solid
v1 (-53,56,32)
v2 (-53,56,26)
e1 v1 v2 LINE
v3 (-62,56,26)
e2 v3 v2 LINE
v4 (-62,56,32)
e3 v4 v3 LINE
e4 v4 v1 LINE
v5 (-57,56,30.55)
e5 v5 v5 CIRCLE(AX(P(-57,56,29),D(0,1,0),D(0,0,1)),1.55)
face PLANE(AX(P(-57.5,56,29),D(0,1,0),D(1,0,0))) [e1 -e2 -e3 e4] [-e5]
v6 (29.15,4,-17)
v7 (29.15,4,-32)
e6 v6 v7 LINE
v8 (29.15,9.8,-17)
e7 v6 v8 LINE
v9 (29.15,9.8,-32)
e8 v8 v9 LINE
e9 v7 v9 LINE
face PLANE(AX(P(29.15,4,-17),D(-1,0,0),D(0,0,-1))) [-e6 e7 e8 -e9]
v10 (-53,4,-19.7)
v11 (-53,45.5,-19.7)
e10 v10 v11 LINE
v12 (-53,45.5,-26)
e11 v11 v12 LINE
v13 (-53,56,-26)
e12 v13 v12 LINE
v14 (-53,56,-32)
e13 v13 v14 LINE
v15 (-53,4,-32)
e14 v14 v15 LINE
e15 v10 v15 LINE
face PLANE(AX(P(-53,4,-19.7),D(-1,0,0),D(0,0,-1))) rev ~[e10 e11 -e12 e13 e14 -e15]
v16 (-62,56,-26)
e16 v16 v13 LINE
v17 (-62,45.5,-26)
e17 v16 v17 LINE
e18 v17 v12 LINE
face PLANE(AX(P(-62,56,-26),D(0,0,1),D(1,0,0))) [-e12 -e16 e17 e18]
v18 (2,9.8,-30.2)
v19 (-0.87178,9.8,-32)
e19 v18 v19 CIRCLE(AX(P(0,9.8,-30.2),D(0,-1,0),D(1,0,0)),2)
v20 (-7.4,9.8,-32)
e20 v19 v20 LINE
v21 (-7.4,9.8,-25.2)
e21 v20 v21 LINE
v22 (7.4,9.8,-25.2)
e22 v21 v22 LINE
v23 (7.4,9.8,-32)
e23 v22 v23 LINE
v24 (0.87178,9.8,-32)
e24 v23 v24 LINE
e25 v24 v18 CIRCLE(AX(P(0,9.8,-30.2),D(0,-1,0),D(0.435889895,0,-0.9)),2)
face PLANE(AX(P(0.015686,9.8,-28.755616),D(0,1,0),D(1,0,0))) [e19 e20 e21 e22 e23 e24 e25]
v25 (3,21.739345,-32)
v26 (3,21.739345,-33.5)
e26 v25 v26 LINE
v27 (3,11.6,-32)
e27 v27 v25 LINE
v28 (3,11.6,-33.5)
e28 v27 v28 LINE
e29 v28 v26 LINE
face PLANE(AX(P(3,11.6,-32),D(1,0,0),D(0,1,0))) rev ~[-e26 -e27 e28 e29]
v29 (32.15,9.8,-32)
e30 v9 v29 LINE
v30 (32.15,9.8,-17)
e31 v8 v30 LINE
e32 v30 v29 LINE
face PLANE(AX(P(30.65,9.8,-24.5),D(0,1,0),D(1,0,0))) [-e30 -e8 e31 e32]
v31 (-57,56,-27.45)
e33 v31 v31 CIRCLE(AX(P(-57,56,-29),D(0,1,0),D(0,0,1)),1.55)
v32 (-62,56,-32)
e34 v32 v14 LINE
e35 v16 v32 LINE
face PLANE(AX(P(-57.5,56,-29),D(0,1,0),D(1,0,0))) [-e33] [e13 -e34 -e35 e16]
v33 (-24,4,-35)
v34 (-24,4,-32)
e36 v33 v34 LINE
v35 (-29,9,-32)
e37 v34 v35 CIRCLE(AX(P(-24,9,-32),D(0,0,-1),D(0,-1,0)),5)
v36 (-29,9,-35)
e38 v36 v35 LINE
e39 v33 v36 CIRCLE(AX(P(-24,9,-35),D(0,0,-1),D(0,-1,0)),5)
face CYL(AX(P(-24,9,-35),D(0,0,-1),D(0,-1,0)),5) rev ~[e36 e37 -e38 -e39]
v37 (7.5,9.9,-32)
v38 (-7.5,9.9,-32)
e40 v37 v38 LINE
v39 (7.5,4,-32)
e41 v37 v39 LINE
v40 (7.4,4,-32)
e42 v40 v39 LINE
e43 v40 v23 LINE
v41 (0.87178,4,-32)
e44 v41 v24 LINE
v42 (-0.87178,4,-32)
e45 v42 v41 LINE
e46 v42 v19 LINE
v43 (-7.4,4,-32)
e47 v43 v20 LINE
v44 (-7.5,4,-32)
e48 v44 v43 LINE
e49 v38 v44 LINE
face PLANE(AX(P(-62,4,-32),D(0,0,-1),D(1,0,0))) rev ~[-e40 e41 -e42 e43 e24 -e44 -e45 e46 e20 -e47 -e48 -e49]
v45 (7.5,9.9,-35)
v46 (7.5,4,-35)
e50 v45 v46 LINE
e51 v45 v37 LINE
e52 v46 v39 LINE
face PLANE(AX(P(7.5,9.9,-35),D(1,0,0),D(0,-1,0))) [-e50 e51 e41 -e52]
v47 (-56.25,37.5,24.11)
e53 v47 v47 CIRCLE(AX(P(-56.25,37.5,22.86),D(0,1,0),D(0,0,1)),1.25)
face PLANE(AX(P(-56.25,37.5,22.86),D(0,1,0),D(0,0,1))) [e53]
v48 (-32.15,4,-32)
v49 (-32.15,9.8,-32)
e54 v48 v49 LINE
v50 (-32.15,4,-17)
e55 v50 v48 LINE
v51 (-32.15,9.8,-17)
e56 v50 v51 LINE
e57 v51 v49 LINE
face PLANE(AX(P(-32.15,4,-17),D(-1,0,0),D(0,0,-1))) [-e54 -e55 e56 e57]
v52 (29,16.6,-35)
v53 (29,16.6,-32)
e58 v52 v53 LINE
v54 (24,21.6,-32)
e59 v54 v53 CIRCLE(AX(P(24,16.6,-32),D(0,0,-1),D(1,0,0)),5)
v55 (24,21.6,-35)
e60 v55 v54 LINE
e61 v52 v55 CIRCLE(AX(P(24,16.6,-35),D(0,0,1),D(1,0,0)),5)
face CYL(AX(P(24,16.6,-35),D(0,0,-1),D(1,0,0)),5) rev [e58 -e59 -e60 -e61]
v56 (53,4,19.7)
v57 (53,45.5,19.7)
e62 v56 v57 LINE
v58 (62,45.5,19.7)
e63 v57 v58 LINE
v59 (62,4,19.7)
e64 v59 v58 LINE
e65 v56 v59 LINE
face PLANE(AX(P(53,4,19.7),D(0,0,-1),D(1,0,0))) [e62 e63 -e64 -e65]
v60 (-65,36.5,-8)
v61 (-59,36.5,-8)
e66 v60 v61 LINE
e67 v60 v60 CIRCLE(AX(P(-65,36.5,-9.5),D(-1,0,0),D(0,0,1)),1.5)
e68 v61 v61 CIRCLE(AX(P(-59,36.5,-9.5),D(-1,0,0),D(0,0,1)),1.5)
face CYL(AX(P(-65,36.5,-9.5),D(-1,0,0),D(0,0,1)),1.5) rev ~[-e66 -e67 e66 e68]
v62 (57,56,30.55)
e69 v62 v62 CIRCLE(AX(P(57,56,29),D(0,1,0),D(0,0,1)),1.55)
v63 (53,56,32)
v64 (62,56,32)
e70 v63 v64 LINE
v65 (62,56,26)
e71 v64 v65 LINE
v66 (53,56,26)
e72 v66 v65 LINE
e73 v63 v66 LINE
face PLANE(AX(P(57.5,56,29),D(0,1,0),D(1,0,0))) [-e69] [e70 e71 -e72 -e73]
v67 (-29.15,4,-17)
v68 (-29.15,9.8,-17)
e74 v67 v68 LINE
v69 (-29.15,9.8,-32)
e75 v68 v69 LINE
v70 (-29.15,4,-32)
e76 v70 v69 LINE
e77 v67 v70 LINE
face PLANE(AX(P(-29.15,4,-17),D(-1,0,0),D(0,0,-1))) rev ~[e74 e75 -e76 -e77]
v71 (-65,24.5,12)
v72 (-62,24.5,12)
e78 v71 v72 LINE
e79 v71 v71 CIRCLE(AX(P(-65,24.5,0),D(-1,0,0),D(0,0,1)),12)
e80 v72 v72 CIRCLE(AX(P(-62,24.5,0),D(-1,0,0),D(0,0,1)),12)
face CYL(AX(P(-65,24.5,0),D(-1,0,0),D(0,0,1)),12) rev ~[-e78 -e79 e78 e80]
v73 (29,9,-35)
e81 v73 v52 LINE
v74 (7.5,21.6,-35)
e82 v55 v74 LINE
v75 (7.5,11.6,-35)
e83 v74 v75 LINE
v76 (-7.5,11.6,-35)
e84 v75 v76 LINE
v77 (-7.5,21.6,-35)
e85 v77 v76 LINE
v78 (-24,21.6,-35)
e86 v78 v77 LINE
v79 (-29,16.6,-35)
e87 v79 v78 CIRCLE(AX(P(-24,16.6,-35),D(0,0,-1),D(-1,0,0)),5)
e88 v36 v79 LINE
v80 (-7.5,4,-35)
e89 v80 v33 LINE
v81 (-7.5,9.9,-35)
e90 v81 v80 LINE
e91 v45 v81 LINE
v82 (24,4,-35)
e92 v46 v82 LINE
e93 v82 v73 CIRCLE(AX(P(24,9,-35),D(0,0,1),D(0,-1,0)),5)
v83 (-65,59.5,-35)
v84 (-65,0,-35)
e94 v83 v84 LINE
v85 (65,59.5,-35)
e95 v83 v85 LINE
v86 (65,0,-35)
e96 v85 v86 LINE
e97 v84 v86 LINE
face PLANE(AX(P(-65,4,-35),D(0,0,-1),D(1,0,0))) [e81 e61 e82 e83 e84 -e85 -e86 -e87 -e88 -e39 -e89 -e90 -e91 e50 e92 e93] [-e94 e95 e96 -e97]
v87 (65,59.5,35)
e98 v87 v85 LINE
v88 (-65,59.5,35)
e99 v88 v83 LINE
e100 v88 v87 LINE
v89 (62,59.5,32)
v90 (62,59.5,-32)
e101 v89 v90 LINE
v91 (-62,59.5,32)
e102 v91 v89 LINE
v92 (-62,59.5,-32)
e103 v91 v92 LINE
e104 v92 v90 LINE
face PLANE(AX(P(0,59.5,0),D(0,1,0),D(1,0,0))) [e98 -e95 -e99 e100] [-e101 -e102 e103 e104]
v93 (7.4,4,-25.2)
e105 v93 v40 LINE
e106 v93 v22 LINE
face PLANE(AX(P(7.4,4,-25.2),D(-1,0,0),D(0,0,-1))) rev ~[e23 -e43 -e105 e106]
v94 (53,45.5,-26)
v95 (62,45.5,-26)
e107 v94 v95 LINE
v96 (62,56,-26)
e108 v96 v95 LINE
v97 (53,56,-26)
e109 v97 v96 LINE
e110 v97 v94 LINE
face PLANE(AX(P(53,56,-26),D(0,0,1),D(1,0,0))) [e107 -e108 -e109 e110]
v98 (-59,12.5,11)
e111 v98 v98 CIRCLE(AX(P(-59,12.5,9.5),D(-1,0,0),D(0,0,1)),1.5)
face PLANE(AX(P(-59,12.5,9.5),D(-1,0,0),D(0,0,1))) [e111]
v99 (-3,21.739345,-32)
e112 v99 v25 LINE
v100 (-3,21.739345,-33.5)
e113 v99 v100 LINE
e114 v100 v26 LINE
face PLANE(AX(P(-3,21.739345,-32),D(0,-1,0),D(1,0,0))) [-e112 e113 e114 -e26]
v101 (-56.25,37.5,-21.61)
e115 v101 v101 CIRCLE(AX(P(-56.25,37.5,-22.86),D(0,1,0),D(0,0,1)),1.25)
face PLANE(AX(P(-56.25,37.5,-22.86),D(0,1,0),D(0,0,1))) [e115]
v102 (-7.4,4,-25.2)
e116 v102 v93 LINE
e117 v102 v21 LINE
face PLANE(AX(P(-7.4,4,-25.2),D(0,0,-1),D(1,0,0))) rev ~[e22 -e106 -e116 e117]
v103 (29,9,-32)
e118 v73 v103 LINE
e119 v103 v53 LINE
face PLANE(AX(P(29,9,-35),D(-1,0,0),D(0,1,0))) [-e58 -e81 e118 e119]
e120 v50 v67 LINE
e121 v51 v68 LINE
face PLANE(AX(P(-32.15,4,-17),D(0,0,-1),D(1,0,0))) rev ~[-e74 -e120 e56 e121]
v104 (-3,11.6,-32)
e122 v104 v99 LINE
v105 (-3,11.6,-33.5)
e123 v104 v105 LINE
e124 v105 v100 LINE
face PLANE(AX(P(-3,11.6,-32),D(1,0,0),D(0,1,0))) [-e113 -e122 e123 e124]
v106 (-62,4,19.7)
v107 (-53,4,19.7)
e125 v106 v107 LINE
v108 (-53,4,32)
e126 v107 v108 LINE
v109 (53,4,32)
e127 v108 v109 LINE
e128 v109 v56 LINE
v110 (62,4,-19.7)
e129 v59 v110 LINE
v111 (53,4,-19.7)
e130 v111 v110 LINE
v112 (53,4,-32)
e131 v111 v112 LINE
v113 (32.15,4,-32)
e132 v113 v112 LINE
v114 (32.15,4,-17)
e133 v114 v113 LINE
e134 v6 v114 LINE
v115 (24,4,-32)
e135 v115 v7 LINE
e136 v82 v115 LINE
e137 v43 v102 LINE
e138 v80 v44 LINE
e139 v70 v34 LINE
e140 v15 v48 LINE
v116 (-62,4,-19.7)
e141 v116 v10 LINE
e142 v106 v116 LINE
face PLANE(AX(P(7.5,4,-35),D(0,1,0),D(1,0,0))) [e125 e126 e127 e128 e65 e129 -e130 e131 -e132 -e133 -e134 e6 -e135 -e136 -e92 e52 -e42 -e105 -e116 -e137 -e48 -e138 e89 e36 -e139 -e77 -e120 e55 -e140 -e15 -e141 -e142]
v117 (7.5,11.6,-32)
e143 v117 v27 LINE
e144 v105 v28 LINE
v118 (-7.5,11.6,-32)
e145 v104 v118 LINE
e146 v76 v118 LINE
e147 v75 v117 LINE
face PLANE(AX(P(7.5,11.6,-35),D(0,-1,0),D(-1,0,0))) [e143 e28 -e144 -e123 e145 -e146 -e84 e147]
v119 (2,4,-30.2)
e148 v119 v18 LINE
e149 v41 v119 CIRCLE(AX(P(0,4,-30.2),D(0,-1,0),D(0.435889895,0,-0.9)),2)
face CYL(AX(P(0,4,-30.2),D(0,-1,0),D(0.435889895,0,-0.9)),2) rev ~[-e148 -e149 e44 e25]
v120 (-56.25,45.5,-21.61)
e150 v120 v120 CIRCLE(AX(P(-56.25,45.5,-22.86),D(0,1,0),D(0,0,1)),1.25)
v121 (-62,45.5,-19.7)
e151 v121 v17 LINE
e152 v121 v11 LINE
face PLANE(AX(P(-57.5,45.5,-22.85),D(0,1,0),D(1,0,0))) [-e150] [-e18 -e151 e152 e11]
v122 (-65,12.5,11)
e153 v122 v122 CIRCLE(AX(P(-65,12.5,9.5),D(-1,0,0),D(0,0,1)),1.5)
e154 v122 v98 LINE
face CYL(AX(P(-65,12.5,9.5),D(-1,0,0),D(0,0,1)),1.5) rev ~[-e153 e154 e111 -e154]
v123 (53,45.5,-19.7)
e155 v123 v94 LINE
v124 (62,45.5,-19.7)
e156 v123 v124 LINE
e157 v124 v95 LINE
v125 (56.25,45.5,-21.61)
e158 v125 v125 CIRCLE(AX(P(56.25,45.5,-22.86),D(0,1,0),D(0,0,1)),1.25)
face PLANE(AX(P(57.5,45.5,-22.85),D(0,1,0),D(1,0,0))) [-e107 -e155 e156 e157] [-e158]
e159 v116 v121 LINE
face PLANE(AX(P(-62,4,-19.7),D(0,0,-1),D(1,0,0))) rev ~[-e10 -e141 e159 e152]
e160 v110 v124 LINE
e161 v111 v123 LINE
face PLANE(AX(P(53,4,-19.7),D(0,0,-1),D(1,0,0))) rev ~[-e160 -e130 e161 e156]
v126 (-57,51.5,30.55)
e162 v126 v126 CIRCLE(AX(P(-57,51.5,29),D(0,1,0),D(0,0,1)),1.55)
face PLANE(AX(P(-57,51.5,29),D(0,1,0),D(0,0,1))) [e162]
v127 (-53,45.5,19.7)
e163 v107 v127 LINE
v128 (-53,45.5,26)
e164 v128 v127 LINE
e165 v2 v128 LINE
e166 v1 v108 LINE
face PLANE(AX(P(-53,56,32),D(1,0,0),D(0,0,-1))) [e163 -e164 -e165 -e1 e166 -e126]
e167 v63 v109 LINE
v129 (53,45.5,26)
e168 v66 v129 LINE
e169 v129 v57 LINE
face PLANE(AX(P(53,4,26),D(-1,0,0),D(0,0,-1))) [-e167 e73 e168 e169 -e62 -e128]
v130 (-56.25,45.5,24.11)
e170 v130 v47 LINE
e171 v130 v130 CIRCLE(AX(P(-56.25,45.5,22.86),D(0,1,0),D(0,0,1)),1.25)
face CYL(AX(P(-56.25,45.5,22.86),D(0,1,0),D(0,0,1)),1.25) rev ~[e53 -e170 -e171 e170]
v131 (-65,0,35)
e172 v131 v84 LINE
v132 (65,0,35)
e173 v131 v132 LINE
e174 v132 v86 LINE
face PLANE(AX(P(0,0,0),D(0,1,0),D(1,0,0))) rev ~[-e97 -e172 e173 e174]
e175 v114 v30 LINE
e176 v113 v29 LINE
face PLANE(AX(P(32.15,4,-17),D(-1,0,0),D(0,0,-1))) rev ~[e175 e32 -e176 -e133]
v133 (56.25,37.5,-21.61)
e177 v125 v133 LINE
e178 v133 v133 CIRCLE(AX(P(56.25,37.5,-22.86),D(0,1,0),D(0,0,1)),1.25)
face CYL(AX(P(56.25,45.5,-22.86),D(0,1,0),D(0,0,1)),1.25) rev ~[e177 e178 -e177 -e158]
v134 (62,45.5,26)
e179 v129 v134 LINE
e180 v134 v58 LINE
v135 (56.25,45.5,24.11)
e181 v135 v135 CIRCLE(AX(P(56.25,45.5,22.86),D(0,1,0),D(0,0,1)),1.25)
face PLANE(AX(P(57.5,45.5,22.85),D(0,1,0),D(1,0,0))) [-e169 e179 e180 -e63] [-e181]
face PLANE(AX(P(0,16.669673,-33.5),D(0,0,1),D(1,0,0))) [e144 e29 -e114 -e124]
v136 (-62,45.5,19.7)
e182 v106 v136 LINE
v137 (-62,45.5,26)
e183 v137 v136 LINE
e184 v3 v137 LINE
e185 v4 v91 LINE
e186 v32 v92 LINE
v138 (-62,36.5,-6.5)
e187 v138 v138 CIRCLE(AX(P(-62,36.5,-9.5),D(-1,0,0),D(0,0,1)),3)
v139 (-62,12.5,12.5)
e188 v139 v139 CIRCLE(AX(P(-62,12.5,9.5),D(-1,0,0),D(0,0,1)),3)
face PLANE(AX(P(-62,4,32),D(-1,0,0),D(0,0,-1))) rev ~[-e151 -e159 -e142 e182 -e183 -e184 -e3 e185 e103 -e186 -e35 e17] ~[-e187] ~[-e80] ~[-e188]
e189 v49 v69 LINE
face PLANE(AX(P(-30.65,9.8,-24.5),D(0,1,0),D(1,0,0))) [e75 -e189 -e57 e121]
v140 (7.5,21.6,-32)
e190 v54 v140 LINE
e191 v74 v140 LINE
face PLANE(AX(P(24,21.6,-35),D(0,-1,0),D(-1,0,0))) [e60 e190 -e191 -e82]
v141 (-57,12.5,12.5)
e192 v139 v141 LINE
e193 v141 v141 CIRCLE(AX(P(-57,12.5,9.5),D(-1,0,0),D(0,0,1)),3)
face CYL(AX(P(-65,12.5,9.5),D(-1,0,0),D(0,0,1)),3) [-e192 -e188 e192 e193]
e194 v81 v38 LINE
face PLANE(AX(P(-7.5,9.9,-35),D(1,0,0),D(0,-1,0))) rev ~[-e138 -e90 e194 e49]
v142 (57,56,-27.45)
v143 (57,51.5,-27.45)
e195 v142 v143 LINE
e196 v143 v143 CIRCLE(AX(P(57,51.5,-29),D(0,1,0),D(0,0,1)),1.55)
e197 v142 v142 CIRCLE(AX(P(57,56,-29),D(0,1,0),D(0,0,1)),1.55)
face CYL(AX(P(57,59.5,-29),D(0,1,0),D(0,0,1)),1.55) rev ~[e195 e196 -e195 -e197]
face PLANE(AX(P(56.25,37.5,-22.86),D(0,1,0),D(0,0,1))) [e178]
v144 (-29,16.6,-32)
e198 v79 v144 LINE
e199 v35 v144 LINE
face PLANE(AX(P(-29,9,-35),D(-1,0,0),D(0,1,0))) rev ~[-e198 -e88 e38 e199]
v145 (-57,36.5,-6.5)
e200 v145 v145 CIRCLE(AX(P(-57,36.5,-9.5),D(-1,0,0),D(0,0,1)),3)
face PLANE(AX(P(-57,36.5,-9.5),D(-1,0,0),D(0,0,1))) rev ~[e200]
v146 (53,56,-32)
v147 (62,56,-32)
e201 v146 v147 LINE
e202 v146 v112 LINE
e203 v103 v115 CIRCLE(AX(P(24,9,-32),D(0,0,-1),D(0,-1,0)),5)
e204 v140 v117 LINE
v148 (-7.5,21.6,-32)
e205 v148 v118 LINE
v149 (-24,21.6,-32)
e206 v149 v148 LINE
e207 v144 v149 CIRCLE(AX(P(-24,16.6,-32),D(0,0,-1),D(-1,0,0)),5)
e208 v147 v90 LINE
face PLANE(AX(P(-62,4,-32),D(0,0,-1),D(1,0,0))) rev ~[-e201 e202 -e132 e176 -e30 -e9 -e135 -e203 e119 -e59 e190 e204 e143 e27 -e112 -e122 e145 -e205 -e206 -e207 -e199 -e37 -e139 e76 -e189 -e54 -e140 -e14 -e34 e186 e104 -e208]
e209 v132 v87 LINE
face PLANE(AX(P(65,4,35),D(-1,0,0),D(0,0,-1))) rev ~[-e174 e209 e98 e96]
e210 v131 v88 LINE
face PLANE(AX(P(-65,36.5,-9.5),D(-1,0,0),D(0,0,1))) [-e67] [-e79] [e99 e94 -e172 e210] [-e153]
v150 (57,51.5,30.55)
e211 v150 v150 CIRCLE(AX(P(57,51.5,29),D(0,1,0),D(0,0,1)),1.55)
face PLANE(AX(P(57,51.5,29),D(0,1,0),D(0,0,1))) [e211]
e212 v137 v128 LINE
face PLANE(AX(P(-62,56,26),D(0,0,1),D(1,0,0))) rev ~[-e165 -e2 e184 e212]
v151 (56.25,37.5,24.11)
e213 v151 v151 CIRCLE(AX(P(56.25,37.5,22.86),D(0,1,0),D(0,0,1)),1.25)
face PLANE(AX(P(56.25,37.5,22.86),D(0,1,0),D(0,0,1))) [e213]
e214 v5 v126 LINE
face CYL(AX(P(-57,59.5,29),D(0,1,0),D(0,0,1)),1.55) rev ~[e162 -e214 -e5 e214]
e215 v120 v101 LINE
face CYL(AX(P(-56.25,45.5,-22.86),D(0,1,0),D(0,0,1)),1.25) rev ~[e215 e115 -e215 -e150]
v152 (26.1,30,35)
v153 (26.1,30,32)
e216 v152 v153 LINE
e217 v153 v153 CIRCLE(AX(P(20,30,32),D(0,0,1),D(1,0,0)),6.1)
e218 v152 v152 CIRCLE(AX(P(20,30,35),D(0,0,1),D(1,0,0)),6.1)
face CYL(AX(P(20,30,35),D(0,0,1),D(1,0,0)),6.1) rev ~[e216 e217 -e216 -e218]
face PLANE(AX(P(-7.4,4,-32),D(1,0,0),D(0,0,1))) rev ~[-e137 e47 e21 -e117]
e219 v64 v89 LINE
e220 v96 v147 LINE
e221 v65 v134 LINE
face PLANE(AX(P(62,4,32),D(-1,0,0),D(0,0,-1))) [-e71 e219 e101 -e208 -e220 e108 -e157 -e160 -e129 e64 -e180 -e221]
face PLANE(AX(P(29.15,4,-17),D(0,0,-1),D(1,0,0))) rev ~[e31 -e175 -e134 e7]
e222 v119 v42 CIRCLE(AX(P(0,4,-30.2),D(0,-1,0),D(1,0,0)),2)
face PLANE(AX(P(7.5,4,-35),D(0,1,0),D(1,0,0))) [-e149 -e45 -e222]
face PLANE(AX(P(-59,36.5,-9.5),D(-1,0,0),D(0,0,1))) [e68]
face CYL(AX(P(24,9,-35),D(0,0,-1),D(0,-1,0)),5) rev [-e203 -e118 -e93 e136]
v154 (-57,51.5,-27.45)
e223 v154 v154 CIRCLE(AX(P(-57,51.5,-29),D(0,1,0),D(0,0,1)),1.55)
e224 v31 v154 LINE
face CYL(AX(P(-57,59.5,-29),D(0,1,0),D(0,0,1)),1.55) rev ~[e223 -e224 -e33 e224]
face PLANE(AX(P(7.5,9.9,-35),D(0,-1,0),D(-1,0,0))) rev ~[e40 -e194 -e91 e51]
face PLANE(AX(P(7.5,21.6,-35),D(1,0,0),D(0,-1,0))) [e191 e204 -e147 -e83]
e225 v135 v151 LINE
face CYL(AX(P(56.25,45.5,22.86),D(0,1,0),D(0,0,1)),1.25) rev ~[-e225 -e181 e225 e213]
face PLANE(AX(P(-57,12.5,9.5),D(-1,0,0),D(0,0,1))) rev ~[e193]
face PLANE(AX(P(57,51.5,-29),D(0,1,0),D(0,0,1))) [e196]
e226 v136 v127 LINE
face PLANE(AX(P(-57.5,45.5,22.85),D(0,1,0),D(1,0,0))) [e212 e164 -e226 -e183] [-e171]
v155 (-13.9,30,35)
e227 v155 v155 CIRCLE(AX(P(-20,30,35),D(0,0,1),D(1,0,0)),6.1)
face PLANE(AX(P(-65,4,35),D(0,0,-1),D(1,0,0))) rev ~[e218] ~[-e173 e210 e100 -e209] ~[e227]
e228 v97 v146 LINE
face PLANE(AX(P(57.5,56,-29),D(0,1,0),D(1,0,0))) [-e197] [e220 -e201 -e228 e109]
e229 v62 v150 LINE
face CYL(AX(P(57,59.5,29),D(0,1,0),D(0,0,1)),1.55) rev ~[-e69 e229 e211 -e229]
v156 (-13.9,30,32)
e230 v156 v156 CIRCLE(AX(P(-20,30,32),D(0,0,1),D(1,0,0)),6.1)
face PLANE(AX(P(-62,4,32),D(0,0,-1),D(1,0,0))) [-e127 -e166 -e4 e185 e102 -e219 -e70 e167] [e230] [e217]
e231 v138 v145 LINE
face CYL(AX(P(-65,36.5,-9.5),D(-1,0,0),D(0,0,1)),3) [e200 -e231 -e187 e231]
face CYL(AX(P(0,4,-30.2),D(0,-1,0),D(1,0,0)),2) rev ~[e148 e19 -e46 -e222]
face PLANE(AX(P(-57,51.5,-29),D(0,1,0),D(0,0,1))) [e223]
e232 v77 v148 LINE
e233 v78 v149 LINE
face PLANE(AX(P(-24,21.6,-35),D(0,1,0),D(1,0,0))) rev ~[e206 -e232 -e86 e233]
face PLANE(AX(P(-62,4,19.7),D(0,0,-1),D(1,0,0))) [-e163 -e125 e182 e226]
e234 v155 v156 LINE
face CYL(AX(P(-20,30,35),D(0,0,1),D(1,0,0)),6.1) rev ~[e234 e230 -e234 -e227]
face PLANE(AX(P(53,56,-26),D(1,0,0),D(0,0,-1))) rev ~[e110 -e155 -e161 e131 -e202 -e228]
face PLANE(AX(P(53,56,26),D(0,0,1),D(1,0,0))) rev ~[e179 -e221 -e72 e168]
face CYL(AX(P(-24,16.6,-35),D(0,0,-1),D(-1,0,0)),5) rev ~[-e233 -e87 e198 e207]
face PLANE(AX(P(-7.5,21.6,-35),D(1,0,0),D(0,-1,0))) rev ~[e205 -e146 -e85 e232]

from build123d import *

# Parameters (mm, degrees)
SKETCH1_W       = 130
SKETCH1_H       = 70
EXTRUDE1_DEPTH  = 4
SKETCH2_W       = 130
SKETCH2_H       = 70
SKETCH2_W_2     = 124
SKETCH2_H_2     = 64
EXTRUDE2_DEPTH  = 55.5
SKETCH3_W       = 15
SKETCH3_H       = 1.7
EXTRUDE3_DEPTH  = 4.8
SKETCH4_W       = 3
SKETCH4_H       = 15
EXTRUDE5_DEPTH  = 5.8
SKETCH5_W       = 6
SKETCH5_H       = 10.139345217
EXTRUDE6_DEPTH  = 1.5
SKETCH22_R      = 3
EXTRUDE26_DEPTH = 8
SKETCH10_R      = 12
SKETCH10_R_2    = 1.5
EXTRUDE11_DEPTH = 6
EXTRUDE13_START = -3.5
SKETCH12_W      = 9
SKETCH12_H      = 6
EXTRUDE13_DEPTH = 52
EXTRUDE14_START = -3.5
SKETCH13_W      = 9
SKETCH13_H      = 6
EXTRUDE14_DEPTH = 52
SKETCH14_R      = 1.55
EXTRUDE15_DEPTH = 8
SKETCH20_R      = 1.55
EXTRUDE22_DEPTH = 8
SKETCH23_W      = 9
SKETCH23_H      = 6.3
EXTRUDE27_DEPTH = 41.5
SKETCH24_R      = 6.1
EXTRUDE28_DEPTH = 5
SKETCH25_R      = 1.25
EXTRUDE29_DEPTH = 8


with BuildPart() as part:
    # Sketch1 → Extrude1 (new body)
    with BuildSketch(Plane(origin=(0, 0, 0), x_dir=(1, 0, 0), z_dir=(0, 1, 0))):
        Rectangle(SKETCH1_W, SKETCH1_H)
    extrude(amount=EXTRUDE1_DEPTH)

    # Sketch2 → Extrude2 (add)
    with BuildSketch(Plane(origin=(0, 4, 0), x_dir=(1, 0, 0), z_dir=(0, 1, 0))):
        Rectangle(SKETCH2_W, SKETCH2_H)
        Rectangle(SKETCH2_W_2, SKETCH2_H_2, mode=Mode.SUBTRACT)
    extrude(amount=EXTRUDE2_DEPTH)

    # Sketch3 → Extrude3 (cut)
    with BuildSketch(Plane(origin=(0, 0, -35), x_dir=(-1, 0, 0), z_dir=(0, 0, -1))):
        with BuildLine():
            Line((-24, 21.6), (-7.5, 21.6))
            Line((-7.5, 21.6), (-7.5, 4))
            Line((-7.5, 4), (-24, 4))
            ThreePointArc((-24, 4), (-27.535533906, 5.464466094), (-29, 9))
            Line((-29, 9), (-29, 16.6))
            ThreePointArc((-29, 16.6), (-27.535533906, 20.135533906), (-24, 21.6))
        make_face()
        with BuildLine():
            Line((7.5, 4), (24, 4))
            ThreePointArc((24, 4), (27.535533906, 5.464466094), (29, 9))
            Line((29, 9), (29, 16.6))
            ThreePointArc((29, 16.6), (27.535533906, 20.135533906), (24, 21.6))
            Line((24, 21.6), (7.5, 21.6))
            Line((7.5, 21.6), (7.5, 4))
        make_face()
        with Locations((0, 10.75)):
            Rectangle(SKETCH3_W, SKETCH3_H)
    extrude(amount=-EXTRUDE3_DEPTH, mode=Mode.SUBTRACT)

    # Sketch4 → Extrude5 (add)
    with BuildSketch(Plane(origin=(0, 4, 0), x_dir=(1, 0, 0), z_dir=(0, 1, 0))):
        with BuildLine():
            Line((-0.871779789, 32), (-7.4, 32))
            Line((-7.4, 32), (-7.4, 25.2))
            Line((-7.4, 25.2), (7.4, 25.2))
            Line((7.4, 25.2), (7.4, 32))
            Line((7.4, 32), (0.871779789, 32))
            ThreePointArc((0.871779789, 32), (1.694632641, 31.262177109), (2, 30.2))
            ThreePointArc((2, 30.2), (-1.062177109, 28.505367359), (-0.871779789, 32))
        make_face()
        with Locations((-30.65, 24.5)):
            Rectangle(SKETCH4_W, SKETCH4_H)
        with Locations((30.65, 24.5)):
            Rectangle(SKETCH4_W, SKETCH4_H)
    extrude(amount=EXTRUDE5_DEPTH)

    # Sketch5 → Extrude6 (cut)
    with BuildSketch(Plane.XY.offset(-32)):
        with Locations((0, 16.669672609)):
            Rectangle(SKETCH5_W, SKETCH5_H)
    extrude(amount=-EXTRUDE6_DEPTH, mode=Mode.SUBTRACT)

    # Sketch22 → Extrude26 (add)
    with BuildSketch(Plane.ZY.offset(65)):
        with Locations((-9.5, 36.5)):
            Circle(SKETCH22_R)
        with Locations((9.5, 12.5)):
            Circle(SKETCH22_R)
    extrude(amount=-EXTRUDE26_DEPTH)

    # Sketch10 → Extrude11 (cut)
    with BuildSketch(Plane.ZY.offset(65)):
        with Locations((0, 24.5)):
            Circle(SKETCH10_R)
        with Locations((-9.5, 36.5)):
            Circle(SKETCH10_R_2)
        with Locations((9.5, 12.5)):
            Circle(SKETCH10_R_2)
    extrude(amount=-EXTRUDE11_DEPTH, mode=Mode.SUBTRACT)

    # Sketch12 → Extrude13 (add)
    with BuildSketch(Plane(origin=(0, 59.5, 0), x_dir=(1, 0, 0), z_dir=(0, 1, 0)).offset(EXTRUDE13_START)):
        with Locations((-57.5, -29)):
            Rectangle(SKETCH12_W, SKETCH12_H)
        with Locations((57.5, -29)):
            Rectangle(SKETCH12_W, SKETCH12_H)
    extrude(amount=-EXTRUDE13_DEPTH)

    # Sketch13 → Extrude14 (add)
    with BuildSketch(Plane(origin=(0, 59.5, 0), x_dir=(1, 0, 0), z_dir=(0, 1, 0)).offset(EXTRUDE14_START)):
        with Locations((-57.5, 29)):
            Rectangle(SKETCH13_W, SKETCH13_H)
        with Locations((57.5, 29)):
            Rectangle(SKETCH13_W, SKETCH13_H)
    extrude(amount=-EXTRUDE14_DEPTH)

    # Sketch14 → Extrude15 (cut)
    with BuildSketch(Plane(origin=(0, 59.5, 0), x_dir=(1, 0, 0), z_dir=(0, 1, 0))):
        with Locations(Location((-57, 29, 0), (0, 0, 270))):
            Circle(SKETCH14_R)
        with Locations(Location((57, 29, 0), (0, 0, 270))):
            Circle(SKETCH14_R)
    extrude(amount=-EXTRUDE15_DEPTH, mode=Mode.SUBTRACT)

    # Sketch20 → Extrude22 (cut)
    with BuildSketch(Plane(origin=(0, 59.5, 0), x_dir=(1, 0, 0), z_dir=(0, 1, 0))):
        with Locations(Location((-57, -29, 0), (0, 0, 270))):
            Circle(SKETCH20_R)
        with Locations(Location((57, -29, 0), (0, 0, 270))):
            Circle(SKETCH20_R)
    extrude(amount=-EXTRUDE22_DEPTH, mode=Mode.SUBTRACT)

    # Sketch23 → Extrude27 (add)
    with BuildSketch(Plane(origin=(0, 4, 0), x_dir=(1, 0, 0), z_dir=(0, 1, 0))):
        with Locations((-57.5, 22.85)):
            Rectangle(SKETCH23_W, SKETCH23_H)
        with Locations((-57.5, -22.85)):
            Rectangle(SKETCH23_W, SKETCH23_H)
        with Locations((57.5, -22.85)):
            Rectangle(SKETCH23_W, SKETCH23_H)
        with Locations((57.5, 22.85)):
            Rectangle(SKETCH23_W, SKETCH23_H)
    extrude(amount=EXTRUDE27_DEPTH)

    # Sketch24 → Extrude28 (cut)
    with BuildSketch(Plane.XY.offset(35)):
        with Locations((-20, 30)):
            Circle(SKETCH24_R)
        with Locations((20, 30)):
            Circle(SKETCH24_R)
    extrude(amount=-EXTRUDE28_DEPTH, mode=Mode.SUBTRACT)

    # Sketch25 → Extrude29 (cut)
    with BuildSketch(Plane(origin=(0, 45.5, 0), x_dir=(1, 0, 0), z_dir=(0, 1, 0))):
        with Locations(Location((-56.25, 22.86, 0), (0, 0, 270))):
            Circle(SKETCH25_R)
        with Locations(Location((56.25, 22.86, 0), (0, 0, 270))):
            Circle(SKETCH25_R)
        with Locations(Location((-56.25, -22.86, 0), (0, 0, 270))):
            Circle(SKETCH25_R)
        with Locations(Location((56.25, -22.86, 0), (0, 0, 270))):
            Circle(SKETCH25_R)
    extrude(amount=-EXTRUDE29_DEPTH, mode=Mode.SUBTRACT)


solid = part.part
